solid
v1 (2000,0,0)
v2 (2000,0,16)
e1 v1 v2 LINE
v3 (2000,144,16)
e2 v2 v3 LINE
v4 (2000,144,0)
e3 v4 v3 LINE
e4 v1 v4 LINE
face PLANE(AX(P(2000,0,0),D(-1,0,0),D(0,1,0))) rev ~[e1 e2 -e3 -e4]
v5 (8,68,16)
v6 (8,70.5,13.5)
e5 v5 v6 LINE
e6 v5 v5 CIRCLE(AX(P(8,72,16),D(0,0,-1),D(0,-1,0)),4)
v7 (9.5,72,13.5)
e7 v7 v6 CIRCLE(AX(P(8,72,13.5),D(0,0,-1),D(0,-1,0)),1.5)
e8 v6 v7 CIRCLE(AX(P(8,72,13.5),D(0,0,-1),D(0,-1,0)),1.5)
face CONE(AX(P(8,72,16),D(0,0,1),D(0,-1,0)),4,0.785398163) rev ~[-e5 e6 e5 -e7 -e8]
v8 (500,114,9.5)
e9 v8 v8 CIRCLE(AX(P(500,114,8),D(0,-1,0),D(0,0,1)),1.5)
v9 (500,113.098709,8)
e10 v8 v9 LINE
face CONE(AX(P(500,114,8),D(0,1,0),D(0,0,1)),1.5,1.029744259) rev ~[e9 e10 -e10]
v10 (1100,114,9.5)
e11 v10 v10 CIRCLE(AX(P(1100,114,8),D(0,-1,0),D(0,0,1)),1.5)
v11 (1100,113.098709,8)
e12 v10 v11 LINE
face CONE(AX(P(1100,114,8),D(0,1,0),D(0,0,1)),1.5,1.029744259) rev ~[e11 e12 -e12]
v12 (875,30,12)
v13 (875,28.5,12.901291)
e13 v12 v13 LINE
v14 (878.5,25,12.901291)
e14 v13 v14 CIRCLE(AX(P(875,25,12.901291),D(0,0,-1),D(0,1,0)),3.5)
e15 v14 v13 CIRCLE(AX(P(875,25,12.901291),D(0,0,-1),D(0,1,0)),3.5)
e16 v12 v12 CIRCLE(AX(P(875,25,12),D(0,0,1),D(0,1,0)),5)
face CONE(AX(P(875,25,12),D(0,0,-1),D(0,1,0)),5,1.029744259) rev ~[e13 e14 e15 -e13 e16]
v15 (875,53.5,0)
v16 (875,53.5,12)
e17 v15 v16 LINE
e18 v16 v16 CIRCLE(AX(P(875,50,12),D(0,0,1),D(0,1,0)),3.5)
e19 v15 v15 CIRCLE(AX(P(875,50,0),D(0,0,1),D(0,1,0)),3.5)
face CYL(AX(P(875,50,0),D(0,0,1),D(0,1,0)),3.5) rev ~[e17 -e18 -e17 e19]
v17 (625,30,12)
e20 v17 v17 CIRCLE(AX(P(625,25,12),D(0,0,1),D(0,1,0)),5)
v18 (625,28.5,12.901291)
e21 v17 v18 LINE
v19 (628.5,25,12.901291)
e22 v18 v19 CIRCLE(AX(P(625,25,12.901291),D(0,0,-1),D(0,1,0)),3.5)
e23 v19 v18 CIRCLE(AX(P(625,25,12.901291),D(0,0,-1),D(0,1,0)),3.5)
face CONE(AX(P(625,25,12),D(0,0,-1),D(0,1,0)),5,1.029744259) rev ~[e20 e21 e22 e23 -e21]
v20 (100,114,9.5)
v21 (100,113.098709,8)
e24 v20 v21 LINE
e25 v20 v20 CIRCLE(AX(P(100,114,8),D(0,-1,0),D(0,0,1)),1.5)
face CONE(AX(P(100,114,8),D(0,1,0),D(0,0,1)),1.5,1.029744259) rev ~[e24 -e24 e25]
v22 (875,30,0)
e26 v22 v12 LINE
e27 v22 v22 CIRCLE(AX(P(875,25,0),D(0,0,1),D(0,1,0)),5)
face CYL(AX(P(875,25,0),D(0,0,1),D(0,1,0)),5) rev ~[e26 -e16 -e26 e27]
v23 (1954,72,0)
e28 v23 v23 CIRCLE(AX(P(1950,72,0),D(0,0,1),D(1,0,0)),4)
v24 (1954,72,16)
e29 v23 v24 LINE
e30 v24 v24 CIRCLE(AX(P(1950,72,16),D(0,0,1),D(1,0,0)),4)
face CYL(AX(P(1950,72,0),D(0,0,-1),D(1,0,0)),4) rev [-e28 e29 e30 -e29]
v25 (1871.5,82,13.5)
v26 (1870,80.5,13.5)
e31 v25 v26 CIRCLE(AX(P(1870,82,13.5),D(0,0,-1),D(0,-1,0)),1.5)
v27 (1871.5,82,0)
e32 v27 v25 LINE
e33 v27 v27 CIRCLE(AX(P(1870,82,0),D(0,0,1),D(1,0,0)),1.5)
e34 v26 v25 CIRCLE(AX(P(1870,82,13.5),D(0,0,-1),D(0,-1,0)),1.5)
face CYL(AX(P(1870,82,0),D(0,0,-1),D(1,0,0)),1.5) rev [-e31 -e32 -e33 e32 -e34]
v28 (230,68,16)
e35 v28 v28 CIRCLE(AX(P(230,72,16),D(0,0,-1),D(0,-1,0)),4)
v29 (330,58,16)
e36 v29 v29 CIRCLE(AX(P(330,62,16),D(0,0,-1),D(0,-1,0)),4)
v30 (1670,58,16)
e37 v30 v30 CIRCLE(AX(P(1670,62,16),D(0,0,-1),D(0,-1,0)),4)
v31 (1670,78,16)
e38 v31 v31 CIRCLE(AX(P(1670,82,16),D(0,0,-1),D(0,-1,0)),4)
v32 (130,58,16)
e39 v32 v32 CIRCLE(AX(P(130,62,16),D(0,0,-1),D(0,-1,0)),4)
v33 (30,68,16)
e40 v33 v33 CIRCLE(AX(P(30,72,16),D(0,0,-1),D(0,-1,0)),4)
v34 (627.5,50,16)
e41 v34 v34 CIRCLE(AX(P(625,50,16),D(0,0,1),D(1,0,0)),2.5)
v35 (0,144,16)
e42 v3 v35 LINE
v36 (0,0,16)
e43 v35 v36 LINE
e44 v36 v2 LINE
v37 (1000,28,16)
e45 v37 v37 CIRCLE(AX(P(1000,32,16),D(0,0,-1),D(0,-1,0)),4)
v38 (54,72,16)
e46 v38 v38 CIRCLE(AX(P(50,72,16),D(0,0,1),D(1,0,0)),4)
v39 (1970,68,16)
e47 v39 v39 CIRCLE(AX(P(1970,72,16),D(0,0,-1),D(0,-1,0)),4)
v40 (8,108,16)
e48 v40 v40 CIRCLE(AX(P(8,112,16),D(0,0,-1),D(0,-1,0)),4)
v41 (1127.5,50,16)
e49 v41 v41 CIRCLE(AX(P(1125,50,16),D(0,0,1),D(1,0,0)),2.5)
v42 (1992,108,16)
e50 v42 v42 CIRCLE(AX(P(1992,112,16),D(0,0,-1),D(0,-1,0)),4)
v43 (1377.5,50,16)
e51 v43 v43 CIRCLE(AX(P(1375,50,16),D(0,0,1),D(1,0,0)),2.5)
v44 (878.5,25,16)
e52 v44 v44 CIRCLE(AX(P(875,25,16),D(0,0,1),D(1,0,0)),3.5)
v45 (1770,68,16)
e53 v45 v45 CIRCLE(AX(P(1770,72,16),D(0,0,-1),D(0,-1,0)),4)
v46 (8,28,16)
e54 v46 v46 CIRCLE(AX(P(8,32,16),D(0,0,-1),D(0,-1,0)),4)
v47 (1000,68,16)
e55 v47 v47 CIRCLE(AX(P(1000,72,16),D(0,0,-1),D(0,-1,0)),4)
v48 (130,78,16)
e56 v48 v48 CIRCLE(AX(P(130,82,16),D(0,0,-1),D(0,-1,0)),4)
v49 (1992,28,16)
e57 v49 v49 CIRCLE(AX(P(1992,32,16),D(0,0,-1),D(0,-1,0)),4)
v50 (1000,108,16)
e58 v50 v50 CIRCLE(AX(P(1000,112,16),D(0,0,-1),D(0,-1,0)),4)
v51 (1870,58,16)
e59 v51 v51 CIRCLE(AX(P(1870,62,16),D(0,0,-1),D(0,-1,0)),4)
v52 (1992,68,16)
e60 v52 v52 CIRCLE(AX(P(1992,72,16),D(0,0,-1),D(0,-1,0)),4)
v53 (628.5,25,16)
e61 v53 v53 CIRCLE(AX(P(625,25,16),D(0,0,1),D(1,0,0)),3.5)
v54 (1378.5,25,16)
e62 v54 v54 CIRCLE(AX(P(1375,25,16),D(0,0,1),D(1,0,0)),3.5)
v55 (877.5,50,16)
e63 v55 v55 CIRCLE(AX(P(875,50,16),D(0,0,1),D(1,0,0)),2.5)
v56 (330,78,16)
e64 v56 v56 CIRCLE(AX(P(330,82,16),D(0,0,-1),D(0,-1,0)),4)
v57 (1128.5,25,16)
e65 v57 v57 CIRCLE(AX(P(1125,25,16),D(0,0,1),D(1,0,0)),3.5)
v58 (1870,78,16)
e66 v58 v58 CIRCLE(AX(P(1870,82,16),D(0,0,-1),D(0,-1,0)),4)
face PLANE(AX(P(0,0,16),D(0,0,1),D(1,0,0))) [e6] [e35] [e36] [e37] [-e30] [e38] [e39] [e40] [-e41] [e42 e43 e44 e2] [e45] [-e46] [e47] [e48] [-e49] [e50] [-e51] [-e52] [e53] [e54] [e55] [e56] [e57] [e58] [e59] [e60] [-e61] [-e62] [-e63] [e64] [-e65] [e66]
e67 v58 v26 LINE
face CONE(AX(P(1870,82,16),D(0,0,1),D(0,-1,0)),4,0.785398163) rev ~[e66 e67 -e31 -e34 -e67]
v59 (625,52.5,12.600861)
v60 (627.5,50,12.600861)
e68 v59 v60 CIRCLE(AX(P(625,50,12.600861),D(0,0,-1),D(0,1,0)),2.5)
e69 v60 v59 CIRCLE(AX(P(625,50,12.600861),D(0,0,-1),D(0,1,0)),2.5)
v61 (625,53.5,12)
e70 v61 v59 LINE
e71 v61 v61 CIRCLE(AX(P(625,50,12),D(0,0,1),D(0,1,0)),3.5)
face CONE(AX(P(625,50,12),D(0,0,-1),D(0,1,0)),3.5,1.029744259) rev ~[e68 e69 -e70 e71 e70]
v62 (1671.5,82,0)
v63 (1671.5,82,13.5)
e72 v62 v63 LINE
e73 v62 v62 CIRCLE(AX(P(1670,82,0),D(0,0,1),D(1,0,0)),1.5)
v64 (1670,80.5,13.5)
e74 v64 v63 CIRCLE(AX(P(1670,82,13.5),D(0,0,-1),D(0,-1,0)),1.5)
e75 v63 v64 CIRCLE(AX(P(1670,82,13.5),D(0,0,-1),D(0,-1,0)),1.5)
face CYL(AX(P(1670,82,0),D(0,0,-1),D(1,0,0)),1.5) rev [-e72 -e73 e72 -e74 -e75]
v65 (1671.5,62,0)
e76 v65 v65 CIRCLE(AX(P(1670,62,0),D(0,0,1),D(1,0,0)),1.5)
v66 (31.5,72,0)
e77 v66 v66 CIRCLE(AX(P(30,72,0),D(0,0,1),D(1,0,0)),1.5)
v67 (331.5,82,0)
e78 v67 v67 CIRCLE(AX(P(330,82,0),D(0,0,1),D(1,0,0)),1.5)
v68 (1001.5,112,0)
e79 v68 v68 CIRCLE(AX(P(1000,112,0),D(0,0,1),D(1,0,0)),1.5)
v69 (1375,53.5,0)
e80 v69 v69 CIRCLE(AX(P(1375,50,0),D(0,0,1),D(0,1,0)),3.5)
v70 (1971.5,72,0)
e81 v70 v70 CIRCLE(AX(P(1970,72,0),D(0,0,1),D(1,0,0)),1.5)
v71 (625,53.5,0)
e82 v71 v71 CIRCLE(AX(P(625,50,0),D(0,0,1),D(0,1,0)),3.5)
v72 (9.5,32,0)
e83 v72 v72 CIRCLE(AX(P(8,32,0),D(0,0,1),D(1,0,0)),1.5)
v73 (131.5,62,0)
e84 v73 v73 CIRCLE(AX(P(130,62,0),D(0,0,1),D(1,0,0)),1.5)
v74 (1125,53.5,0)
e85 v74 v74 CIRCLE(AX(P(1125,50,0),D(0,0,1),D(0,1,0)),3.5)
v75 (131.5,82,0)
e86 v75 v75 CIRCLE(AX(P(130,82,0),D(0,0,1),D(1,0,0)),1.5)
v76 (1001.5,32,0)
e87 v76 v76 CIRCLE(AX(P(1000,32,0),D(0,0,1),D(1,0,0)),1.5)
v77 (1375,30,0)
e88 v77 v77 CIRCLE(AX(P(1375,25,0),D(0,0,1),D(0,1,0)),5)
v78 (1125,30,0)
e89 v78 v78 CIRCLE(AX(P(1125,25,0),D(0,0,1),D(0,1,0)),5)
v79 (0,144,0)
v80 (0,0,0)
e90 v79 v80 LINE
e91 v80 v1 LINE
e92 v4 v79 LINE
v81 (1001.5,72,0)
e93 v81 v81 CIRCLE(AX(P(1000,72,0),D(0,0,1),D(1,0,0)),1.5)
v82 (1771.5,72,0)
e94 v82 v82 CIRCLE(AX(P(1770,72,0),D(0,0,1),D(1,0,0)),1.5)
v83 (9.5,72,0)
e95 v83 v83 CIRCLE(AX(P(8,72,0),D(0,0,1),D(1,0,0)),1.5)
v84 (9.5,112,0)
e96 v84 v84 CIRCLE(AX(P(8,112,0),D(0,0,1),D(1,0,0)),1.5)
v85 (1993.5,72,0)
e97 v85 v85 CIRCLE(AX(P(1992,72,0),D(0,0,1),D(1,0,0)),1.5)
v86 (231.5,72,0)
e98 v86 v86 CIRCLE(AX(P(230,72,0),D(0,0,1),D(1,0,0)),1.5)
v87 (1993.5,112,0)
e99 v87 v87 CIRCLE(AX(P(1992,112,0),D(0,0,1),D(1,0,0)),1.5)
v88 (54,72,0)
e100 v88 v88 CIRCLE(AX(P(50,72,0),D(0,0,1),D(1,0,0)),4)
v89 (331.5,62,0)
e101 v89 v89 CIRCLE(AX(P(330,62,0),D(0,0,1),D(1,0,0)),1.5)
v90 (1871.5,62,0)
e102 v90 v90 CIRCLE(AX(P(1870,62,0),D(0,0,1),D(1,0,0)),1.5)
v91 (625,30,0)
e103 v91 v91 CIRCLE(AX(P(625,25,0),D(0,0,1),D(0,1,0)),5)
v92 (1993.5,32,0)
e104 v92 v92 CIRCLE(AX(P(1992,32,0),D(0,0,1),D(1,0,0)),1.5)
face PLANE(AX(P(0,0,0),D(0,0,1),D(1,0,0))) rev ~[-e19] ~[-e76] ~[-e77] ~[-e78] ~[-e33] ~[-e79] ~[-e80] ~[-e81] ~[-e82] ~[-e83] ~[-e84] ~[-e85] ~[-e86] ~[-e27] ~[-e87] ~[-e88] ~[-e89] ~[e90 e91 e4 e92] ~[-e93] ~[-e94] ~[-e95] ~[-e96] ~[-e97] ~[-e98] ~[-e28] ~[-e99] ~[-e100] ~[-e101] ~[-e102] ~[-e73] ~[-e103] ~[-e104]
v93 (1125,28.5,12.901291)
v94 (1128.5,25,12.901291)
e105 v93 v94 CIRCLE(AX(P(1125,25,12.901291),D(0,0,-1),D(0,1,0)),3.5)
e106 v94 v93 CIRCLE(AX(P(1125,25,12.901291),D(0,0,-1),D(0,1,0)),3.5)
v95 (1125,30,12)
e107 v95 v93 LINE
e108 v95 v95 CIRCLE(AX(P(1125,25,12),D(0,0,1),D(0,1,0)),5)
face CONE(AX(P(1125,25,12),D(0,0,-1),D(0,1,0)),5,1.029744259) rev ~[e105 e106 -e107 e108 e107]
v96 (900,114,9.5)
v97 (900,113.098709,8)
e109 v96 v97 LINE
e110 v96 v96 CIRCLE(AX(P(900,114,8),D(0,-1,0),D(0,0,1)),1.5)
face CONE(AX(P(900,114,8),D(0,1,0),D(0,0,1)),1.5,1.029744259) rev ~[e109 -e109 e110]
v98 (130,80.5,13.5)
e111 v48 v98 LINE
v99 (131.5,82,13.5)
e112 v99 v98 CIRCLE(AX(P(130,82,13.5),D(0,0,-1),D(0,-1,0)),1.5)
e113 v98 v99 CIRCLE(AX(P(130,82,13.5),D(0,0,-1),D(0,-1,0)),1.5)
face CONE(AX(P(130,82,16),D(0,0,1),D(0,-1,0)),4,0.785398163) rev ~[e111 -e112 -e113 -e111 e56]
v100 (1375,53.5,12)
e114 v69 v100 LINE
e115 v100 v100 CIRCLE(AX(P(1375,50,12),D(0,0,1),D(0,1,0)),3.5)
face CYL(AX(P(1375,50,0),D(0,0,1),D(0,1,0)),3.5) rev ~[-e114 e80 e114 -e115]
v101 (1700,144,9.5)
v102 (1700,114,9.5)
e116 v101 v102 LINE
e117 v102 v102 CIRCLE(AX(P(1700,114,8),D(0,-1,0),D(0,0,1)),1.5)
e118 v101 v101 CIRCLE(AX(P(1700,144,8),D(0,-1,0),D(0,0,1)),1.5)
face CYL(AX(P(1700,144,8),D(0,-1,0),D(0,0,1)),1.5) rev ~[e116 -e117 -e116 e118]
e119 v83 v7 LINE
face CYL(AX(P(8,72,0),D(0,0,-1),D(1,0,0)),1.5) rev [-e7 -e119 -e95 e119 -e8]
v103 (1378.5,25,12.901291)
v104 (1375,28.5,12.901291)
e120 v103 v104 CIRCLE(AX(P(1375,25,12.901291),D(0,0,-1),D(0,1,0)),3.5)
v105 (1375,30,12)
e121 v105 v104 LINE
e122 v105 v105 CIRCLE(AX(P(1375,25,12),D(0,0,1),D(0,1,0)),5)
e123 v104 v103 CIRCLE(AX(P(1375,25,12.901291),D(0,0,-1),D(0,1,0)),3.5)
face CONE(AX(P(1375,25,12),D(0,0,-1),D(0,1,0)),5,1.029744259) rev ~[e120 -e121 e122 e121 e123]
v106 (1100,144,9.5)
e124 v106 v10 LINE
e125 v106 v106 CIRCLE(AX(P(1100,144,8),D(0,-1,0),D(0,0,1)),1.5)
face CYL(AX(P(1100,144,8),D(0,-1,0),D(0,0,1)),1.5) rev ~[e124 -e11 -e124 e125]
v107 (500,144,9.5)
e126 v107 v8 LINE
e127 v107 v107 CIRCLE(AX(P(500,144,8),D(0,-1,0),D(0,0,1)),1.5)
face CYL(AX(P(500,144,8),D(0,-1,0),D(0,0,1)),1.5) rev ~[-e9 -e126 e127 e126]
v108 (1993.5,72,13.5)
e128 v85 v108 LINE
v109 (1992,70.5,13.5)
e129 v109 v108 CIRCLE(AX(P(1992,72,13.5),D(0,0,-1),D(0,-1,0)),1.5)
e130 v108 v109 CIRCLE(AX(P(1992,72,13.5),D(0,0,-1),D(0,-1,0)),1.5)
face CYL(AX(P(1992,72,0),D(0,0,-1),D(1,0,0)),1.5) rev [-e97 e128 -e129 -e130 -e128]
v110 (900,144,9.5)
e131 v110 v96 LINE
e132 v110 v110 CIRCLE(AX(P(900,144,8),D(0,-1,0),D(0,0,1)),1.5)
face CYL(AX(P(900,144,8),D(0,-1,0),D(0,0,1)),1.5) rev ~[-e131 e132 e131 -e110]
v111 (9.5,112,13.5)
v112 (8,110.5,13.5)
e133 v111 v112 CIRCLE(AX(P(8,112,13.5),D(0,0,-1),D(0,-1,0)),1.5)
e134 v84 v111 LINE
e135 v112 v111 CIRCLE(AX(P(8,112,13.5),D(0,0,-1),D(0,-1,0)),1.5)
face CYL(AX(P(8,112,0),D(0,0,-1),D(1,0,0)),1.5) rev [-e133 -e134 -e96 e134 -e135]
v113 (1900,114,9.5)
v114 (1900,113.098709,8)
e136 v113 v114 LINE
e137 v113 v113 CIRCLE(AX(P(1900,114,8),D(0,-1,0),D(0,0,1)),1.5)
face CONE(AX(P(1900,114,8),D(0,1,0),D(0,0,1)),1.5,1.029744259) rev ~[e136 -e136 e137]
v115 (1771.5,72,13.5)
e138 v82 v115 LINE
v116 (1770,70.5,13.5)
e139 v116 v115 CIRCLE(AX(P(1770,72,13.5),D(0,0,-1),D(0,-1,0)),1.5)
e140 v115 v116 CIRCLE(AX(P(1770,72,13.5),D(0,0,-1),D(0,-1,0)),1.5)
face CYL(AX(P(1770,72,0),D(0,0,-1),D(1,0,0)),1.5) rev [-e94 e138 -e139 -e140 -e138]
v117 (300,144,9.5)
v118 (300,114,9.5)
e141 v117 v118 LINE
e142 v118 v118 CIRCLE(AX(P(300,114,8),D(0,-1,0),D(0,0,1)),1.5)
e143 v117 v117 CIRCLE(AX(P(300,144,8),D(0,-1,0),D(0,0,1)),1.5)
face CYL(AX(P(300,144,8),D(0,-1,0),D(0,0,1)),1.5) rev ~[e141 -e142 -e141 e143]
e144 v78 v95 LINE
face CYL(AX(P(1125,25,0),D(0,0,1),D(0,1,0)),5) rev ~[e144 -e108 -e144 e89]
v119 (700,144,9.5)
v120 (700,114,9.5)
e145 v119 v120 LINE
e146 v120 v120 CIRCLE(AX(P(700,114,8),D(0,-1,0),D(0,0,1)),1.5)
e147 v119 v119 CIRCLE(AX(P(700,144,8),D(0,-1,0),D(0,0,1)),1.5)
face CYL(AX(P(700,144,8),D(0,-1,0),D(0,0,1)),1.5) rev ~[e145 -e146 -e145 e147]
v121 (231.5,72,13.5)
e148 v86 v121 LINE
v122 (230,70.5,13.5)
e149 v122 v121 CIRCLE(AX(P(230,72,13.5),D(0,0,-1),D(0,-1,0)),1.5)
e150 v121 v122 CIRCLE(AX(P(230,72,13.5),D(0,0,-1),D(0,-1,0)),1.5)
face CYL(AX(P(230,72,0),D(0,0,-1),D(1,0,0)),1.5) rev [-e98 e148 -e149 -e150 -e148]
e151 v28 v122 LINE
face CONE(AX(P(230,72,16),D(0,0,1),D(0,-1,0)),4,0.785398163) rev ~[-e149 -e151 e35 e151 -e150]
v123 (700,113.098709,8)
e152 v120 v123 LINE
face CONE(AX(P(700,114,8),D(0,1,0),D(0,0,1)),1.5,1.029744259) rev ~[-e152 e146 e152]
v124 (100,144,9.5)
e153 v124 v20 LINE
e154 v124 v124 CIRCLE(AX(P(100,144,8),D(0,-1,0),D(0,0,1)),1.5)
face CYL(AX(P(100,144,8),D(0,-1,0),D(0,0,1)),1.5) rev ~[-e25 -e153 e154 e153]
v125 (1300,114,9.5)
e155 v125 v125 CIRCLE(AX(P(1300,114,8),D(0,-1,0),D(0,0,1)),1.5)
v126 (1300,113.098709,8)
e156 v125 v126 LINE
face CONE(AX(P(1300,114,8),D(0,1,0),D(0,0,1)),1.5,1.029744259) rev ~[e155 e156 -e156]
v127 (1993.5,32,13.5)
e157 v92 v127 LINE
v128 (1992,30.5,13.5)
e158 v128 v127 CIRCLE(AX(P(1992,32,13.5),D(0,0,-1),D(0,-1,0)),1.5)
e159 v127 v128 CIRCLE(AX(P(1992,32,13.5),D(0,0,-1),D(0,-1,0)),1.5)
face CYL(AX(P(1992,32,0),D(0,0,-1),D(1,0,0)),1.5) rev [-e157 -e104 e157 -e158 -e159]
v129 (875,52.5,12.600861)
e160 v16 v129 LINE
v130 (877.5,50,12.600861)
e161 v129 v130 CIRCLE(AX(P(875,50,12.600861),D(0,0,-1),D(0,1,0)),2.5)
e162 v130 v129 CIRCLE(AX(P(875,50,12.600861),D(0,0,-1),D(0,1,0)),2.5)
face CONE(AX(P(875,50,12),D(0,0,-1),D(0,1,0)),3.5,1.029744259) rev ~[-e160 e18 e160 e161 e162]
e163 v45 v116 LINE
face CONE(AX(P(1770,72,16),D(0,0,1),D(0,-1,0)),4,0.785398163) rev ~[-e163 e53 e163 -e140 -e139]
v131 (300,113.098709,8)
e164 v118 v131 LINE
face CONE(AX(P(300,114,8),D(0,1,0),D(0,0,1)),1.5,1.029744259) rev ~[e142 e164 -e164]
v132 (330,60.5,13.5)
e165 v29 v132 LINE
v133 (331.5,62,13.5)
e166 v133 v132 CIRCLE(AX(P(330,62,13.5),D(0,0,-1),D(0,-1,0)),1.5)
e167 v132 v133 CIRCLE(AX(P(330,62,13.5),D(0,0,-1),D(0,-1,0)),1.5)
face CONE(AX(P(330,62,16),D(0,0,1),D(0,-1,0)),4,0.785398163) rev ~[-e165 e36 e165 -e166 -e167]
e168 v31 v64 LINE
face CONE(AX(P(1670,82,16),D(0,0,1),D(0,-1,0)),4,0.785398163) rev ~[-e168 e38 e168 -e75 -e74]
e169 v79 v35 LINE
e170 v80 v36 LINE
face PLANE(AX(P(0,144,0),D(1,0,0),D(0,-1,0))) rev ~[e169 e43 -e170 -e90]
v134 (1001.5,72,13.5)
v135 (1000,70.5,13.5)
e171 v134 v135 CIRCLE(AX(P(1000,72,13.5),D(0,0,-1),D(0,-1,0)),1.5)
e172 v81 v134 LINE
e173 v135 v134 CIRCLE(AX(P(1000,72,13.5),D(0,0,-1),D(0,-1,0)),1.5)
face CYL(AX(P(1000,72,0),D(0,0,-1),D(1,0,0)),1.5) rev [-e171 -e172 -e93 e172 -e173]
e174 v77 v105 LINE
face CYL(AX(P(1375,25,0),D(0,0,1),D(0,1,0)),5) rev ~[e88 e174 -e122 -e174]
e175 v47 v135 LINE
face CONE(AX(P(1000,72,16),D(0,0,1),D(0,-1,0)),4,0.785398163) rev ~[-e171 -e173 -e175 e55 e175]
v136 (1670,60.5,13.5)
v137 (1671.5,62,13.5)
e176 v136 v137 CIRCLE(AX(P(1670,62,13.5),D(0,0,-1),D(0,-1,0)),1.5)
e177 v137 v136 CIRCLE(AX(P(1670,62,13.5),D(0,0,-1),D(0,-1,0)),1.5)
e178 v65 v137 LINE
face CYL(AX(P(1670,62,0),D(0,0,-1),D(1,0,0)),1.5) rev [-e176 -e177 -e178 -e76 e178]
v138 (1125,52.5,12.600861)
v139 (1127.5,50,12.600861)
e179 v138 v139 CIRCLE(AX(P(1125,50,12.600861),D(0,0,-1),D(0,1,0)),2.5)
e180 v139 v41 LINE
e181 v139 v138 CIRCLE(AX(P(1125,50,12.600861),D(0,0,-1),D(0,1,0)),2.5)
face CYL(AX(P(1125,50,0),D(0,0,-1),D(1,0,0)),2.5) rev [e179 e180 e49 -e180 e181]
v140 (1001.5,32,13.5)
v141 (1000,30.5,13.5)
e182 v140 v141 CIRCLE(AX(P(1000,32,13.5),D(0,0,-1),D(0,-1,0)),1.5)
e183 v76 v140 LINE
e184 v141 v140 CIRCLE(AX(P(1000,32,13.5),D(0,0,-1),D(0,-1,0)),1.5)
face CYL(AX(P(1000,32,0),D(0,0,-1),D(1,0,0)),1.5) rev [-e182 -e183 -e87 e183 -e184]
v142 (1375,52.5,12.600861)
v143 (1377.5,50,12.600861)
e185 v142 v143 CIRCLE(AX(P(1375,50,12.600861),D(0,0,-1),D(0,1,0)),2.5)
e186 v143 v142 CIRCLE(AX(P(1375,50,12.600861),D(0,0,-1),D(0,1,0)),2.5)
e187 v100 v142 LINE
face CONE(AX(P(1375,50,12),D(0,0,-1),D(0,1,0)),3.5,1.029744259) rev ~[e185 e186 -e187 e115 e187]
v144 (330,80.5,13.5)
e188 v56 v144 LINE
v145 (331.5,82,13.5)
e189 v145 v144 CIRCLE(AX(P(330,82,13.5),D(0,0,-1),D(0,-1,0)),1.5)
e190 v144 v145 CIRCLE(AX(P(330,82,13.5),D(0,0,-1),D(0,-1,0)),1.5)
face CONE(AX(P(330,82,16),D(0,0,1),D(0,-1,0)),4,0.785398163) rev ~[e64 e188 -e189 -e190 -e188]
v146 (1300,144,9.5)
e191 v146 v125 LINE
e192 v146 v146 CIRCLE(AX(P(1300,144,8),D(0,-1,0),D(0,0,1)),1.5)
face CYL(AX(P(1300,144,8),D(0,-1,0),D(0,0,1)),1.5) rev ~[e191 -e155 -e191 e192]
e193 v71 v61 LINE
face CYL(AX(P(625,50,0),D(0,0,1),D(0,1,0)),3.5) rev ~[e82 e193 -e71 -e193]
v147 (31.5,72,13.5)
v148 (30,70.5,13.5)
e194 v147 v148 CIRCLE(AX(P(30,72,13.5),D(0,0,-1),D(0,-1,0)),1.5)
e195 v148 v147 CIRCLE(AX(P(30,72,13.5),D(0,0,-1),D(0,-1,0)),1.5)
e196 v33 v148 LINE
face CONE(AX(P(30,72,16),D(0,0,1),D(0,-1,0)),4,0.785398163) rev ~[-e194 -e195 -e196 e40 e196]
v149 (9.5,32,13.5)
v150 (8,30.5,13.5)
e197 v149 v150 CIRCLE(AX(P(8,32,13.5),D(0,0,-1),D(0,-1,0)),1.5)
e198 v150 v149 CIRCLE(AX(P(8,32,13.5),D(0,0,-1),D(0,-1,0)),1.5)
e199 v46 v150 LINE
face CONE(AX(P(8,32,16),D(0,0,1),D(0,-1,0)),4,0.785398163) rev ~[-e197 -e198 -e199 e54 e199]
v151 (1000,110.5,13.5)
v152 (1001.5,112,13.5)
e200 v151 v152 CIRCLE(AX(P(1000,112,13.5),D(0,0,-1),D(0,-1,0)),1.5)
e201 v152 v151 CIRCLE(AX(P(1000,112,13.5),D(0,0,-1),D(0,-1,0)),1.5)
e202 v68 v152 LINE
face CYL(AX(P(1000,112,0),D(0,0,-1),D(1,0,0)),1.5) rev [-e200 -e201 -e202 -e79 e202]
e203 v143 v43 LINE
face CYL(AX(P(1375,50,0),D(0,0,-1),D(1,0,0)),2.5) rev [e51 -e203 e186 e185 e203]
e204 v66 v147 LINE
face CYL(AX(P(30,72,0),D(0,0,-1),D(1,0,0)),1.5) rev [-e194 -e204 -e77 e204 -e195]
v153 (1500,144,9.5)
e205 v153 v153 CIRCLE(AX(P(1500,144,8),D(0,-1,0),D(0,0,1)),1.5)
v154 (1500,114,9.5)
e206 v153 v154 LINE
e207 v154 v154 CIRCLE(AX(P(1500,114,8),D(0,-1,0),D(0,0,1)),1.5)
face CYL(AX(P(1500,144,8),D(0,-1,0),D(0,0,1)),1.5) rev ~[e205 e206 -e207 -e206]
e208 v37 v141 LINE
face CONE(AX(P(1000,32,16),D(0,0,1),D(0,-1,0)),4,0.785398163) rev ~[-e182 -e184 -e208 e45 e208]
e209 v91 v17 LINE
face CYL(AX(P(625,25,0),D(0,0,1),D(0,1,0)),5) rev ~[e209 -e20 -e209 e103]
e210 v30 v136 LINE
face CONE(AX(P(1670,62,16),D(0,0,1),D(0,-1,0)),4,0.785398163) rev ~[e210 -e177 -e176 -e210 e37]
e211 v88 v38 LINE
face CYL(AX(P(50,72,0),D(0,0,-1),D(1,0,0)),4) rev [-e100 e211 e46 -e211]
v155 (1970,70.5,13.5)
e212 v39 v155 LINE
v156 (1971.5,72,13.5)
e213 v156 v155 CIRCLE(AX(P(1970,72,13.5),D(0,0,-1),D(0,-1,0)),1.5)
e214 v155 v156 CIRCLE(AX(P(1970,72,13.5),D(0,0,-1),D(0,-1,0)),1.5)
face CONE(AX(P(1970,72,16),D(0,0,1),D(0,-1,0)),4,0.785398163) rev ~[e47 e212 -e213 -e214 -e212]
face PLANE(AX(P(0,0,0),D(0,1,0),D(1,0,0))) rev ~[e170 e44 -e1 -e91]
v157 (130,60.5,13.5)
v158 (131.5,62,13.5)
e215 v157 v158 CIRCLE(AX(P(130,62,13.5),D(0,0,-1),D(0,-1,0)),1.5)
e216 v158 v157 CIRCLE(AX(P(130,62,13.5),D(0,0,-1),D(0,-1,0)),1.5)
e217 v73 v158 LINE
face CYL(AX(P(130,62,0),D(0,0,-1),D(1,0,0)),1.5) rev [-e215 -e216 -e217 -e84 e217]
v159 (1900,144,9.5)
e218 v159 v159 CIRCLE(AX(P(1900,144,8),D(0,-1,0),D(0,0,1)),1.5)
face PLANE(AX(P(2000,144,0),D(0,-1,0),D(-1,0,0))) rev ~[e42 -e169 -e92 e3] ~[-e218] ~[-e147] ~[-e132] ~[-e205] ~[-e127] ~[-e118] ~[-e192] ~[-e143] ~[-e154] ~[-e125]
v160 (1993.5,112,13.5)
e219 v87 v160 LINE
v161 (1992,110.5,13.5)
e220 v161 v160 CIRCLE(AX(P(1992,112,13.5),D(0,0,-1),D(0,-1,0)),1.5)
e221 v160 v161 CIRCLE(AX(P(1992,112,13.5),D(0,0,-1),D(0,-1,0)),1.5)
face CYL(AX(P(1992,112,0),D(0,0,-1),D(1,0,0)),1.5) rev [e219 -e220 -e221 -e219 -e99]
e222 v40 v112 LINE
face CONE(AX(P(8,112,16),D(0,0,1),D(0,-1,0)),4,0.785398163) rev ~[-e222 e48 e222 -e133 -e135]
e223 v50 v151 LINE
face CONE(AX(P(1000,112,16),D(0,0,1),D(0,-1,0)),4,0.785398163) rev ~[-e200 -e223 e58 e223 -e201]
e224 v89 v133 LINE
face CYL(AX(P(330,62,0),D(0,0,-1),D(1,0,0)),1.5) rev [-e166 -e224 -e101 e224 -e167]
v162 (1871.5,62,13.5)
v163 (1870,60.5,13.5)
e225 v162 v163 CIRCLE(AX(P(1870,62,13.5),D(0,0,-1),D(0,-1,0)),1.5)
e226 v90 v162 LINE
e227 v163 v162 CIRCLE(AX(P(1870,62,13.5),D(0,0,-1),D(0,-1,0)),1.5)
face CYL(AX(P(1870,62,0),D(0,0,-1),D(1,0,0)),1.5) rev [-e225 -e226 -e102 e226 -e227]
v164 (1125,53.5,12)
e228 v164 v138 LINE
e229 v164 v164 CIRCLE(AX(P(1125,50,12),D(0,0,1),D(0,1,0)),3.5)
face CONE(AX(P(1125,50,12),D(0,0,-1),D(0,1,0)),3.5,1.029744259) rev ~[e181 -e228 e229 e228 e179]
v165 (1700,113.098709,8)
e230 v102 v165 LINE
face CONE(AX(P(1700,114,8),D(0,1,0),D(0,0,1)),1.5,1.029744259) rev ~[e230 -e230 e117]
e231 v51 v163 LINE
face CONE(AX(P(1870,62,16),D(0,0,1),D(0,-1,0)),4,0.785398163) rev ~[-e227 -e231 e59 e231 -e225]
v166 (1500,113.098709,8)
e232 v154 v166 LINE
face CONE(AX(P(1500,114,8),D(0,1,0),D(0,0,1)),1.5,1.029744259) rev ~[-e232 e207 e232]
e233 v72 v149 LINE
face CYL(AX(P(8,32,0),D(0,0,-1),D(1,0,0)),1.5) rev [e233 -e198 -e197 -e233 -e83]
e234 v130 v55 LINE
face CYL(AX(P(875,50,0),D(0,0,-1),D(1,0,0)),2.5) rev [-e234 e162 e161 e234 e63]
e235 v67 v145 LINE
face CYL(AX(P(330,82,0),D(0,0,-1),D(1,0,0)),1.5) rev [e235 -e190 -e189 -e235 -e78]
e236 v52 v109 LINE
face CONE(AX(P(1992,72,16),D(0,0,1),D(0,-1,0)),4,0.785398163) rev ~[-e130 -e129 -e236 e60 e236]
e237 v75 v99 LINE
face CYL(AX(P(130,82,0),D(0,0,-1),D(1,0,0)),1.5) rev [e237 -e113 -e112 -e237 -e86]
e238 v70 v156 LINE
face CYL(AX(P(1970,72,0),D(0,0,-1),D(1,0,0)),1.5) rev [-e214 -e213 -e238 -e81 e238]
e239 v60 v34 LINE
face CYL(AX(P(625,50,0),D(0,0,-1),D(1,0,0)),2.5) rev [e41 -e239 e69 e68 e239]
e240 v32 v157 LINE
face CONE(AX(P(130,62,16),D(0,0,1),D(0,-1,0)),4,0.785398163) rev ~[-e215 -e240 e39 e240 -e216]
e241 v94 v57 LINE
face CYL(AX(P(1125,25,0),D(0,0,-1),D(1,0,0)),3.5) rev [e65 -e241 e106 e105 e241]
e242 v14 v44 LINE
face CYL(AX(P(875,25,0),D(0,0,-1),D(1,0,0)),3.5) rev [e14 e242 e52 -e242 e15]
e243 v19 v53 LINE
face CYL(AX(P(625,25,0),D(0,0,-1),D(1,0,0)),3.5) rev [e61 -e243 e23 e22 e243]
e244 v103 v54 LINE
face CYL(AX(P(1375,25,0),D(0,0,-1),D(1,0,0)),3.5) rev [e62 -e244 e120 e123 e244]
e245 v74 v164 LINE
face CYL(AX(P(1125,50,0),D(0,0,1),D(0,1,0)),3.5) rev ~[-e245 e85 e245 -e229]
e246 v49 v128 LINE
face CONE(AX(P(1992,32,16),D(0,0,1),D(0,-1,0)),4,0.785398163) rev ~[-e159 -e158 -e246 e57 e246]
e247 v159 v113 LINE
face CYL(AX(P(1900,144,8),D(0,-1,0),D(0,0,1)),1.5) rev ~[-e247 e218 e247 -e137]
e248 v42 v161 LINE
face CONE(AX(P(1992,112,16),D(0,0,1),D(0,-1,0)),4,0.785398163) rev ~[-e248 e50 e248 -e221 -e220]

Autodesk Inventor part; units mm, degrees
ref_plane "YZ Plane" through (0, 0, 0) normal (1, 0, 0) x (0, 1, 0)
ref_plane "XZ Plane" through (0, 0, 0) normal (0, 1, 0) x (-1, 0, 0)
ref_plane "XY Plane" through (0, 0, 0) normal (0, 0, 1) x (1, 0, 0)
sketch "Skizze1" plane through (0, 0, 0) normal (0, 0, 1) x (1, 0, 0)
  line L0 (0, 0) -> (2000, 0)
  line L1 (2000, 0) -> (2000, 144)
  line L2 (2000, 144) -> (0, 144)
  line L3 (0, 144) -> (0, 0)
  line L4 (0, 25) -> (2000, 25) construction
  line L5 (0, 50) -> (2000, 50) construction
  line L6 (1000, 0) -> (1000, 144) construction
  line L7 (875, 0) -> (875, 144) construction
  line L8 (1125, 144) -> (1125, 0) construction
  line L9 (1375, 144) -> (1375, 0) construction
  line L10 (625, 144) -> (625, 0) construction
  circle A0 centre (625, 50) radius 2.5
  circle A1 centre (875, 50) radius 2.5
  circle A2 centre (1125, 50) radius 2.5
  circle A3 centre (1375, 50) radius 2.5
  circle A4 centre (1375, 25) radius 3.5
  circle A5 centre (1125, 25) radius 3.5
  circle A6 centre (875, 25) radius 3.5
  circle A7 centre (625, 25) radius 3.5
  line L11 (50, 144) -> (50, 0) construction
  circle A8 centre (50, 72) radius 4
  line L12 (1950, 144) -> (1950, 0) construction
  circle A9 centre (1950, 72) radius 4
  line L13 (1992, 144) -> (1992, 0) construction
  line L14 (2000, 112) -> (0, 112) construction
  line L15 (2000, 32) -> (0, 32) construction
  circle A10 centre (1992, 112) radius 1.5
  circle A11 centre (1992, 32) radius 1.5
  line L16 (8, 144) -> (8, 0) construction
  circle A12 centre (8, 112) radius 1.5
  circle A13 centre (8, 72) radius 1.5
  circle A14 centre (8, 32) radius 1.5
  circle A15 centre (1992, 72) radius 1.5
  circle A16 centre (1000, 72) radius 1.5
  circle A17 centre (1000, 112) radius 1.5
  circle A18 centre (1000, 32) radius 1.5
  circle A19 centre (1870, 62) radius 1.5
  circle A20 centre (1970, 72) radius 1.5
  circle A21 centre (1870, 82) radius 1.5
  circle A22 centre (1670, 82) radius 1.5
  circle A23 centre (1670, 62) radius 1.5
  circle A24 centre (1770, 72) radius 1.5
  line L17 (2000, 72) -> (1650, 72) construction
  line L18 (1870, 82) -> (1670, 82) construction
  line L19 (1670, 82) -> (1670, 62) construction
  line L20 (1670, 62) -> (1870, 62) construction
  line L21 (1870, 62) -> (1870, 82) construction
  line L22 (0, 72) -> (350, 72) construction
  circle A25 centre (30, 72) radius 1.5
  circle A26 centre (130, 82) radius 1.5
  circle A27 centre (130, 62) radius 1.5
  circle A28 centre (230, 72) radius 1.5
  circle A29 centre (330, 82) radius 1.5
  circle A30 centre (330, 62) radius 1.5
  line L23 (130, 82) -> (330, 82) construction
  line L24 (330, 82) -> (330, 62) construction
  line L25 (330, 62) -> (130, 62) construction
  line L26 (130, 62) -> (130, 82) construction
  dimension "d0" = 2000
  dimension "d1" = 144
  dimension "d2" = 25
  dimension "d3" = 50
  dimension "d4" = 125
  dimension "d5" = 125
  dimension "d6" = 250
  dimension "d7" = 250
  dimension "d8" = 5
  dimension "d9" = 5
  dimension "d10" = 5
  dimension "d11" = 5
  dimension "d12" = 7
  dimension "d13" = 7
  dimension "d14" = 7
  dimension "d15" = 7
  dimension "d16" = 50
  dimension "d17" = 8
  dimension "d18" = 50
  dimension "d19" = 8
  dimension "d20" = 8
  dimension "d21" = 40
  dimension "d22" = 40
  dimension "d23" = 3
  dimension "d24" = 3
  dimension "d25" = 8
  dimension "d26" = 3
  dimension "d27" = 3
  dimension "d28" = 3
  dimension "d29" = 3
  dimension "d30" = 3
  dimension "d31" = 3
  dimension "d32" = 3
  dimension "d137" = 3
  dimension "d138" = 3
  dimension "d139" = 3
  dimension "d141" = 3
  dimension "d142" = 3
  dimension "d143" = 3
  dimension "d144" = 350
  dimension "d145" = 30
  dimension "d146" = 100
  dimension "d147" = 100
  dimension "d148" = 100
  dimension "d149" = 10
  dimension "d150" = 10
  dimension "d151" = 350
  dimension "d152" = 3
  dimension "d153" = 3
  dimension "d154" = 3
  dimension "d155" = 3
  dimension "d156" = 3
  dimension "d157" = 3
  dimension "d158" = 30
  dimension "d159" = 100
  dimension "d160" = 100
  dimension "d161" = 100
  dimension "d162" = 10
  dimension "d163" = 10
extrude "Extrusion1" add sketch "Skizze1" along normal blind 16
hole "Bohrung1" at (1375, 25, 0) at (1125, 25, 0) at (875, 25, 0) at (625, 25, 0) direction (0, 0, 1) diameter 10 depth 12 tip angle 118
hole "Bohrung4" at (1125, 50, 0) at (875, 50, 0) at (625, 50, 0) at (1375, 50, 0) direction (0, 0, 1) diameter 7 depth 12 tip angle 118
sketch "Skizze4" plane through (0, 0, 16) normal (0, 0, 1) x (1, 0, 0)
  circle A0 centre (8, 112) radius 1.5 projected
  circle A1 centre (8, 72) radius 1.5 projected
  circle A2 centre (8, 32) radius 1.5 projected
  circle A3 centre (30, 72) radius 1.5 projected
  circle A4 centre (1950, 72) radius 4 projected
  circle A5 centre (50, 72) radius 4 projected
  circle A6 centre (625, 25) radius 3.5 projected
  circle A7 centre (875, 25) radius 3.5 projected
  circle A8 centre (1125, 25) radius 3.5 projected
  circle A9 centre (1375, 25) radius 3.5 projected
  circle A10 centre (1375, 50) radius 2.5 projected
  circle A11 centre (1125, 50) radius 2.5 projected
  circle A12 centre (875, 50) radius 2.5 projected
  circle A13 centre (625, 50) radius 2.5 projected
  circle A14 centre (330, 62) radius 1.5 projected
  circle A15 centre (330, 82) radius 1.5 projected
  circle A16 centre (230, 72) radius 1.5 projected
  circle A17 centre (130, 62) radius 1.5 projected
  circle A18 centre (130, 82) radius 1.5 projected
  circle A19 centre (30, 72) radius 1.5 projected
  circle A20 centre (1770, 72) radius 1.5 projected
  circle A21 centre (1670, 62) radius 1.5 projected
  circle A22 centre (1670, 82) radius 1.5 projected
  circle A23 centre (1870, 82) radius 1.5 projected
  circle A24 centre (1970, 72) radius 1.5 projected
  circle A25 centre (1870, 62) radius 1.5 projected
  circle A26 centre (1000, 32) radius 1.5 projected
  circle A27 centre (1000, 112) radius 1.5 projected
  circle A28 centre (1000, 72) radius 1.5 projected
  circle A29 centre (1992, 72) radius 1.5 projected
  circle A30 centre (8, 32) radius 1.5 projected
  circle A31 centre (8, 72) radius 1.5 projected
  circle A32 centre (8, 112) radius 1.5 projected
  circle A33 centre (1992, 32) radius 1.5 projected
  circle A34 centre (1992, 112) radius 1.5 projected
  line L0 (0, 0) -> (2000, 0) projected
  line L1 (2000, 0) -> (2000, 144) projected
  line L2 (2000, 144) -> (0, 144) projected
  line L3 (0, 144) -> (0, 0) projected
hole "Bohrung15" at (1970, 72, 16) at (1992, 32, 16) at (1992, 72, 16) at (1992, 112, 16) at (1870, 82, 16) at (1870, 62, 16) at (1670, 62, 16) at (1670, 82, 16) at (1770, 72, 16) at (1000, 112, 16) at (1000, 72, 16) at (1000, 32, 16) at (330, 62, 16) at (330, 82, 16) at (230, 72, 16) at (130, 62, 16) at (130, 82, 16) at (8, 72, 16) at (8, 72, 16) at (30, 72, 16) at (30, 72, 16) at (8, 112, 16) at (8, 112, 16) at (8, 32, 16) at (8, 32, 16) direction (0, 0, -1) diameter 3 depth 8 tip angle 118 countersink diameter 8 countersink angle 90
sketch "Skizze5" plane through (0, 144, 0) normal (0, 1, 0) x (1, 0, 0)
  line L0 (2000, -16) -> (0, -16) construction
  line L1 (0, -16) -> (0, 0) construction
  line L2 (0, 0) -> (2000, 0) construction
  line L3 (2000, 0) -> (2000, -16) construction
  line L4 (0, 0) -> (0, -16) construction
  line L5 (0, -8) -> (2000, -8) construction
  line L6 (2000, 0) -> (2000, -16) construction
  line L7 (0, -16) -> (2000, -16) construction
  line L8 (1000, -16) -> (1000, 0) construction
  line L9 (0, 0) -> (2000, 0) construction
  point P0 (1100, -8)
  point P1 (1300, -8)
  point P2 (1500, -8)
  point P3 (1700, -8)
  point P4 (1900, -8)
  point P5 (900, -8)
  point P6 (700, -8)
  point P7 (500, -8)
  point P8 (300, -8)
  point P9 (100, -8)
  dimension "d189" = 100
  dimension "d190" = 200
  dimension "d191" = 200
  dimension "d192" = 200
  dimension "d193" = 200
  dimension "d194" = 100
  dimension "d195" = 200
  dimension "d196" = 200
  dimension "d197" = 200
  dimension "d198" = 200
hole "Bohrung16" at (1900, 144, 8) at (1700, 144, 8) at (1500, 144, 8) at (1300, 144, 8) at (900, 144, 8) at (700, 144, 8) at (500, 144, 8) at (1100, 144, 8) at (300, 144, 8) at (100, 144, 8) direction (0, -1, 0) diameter 3 depth 30 tip angle 118
properties part number "licht_50"
